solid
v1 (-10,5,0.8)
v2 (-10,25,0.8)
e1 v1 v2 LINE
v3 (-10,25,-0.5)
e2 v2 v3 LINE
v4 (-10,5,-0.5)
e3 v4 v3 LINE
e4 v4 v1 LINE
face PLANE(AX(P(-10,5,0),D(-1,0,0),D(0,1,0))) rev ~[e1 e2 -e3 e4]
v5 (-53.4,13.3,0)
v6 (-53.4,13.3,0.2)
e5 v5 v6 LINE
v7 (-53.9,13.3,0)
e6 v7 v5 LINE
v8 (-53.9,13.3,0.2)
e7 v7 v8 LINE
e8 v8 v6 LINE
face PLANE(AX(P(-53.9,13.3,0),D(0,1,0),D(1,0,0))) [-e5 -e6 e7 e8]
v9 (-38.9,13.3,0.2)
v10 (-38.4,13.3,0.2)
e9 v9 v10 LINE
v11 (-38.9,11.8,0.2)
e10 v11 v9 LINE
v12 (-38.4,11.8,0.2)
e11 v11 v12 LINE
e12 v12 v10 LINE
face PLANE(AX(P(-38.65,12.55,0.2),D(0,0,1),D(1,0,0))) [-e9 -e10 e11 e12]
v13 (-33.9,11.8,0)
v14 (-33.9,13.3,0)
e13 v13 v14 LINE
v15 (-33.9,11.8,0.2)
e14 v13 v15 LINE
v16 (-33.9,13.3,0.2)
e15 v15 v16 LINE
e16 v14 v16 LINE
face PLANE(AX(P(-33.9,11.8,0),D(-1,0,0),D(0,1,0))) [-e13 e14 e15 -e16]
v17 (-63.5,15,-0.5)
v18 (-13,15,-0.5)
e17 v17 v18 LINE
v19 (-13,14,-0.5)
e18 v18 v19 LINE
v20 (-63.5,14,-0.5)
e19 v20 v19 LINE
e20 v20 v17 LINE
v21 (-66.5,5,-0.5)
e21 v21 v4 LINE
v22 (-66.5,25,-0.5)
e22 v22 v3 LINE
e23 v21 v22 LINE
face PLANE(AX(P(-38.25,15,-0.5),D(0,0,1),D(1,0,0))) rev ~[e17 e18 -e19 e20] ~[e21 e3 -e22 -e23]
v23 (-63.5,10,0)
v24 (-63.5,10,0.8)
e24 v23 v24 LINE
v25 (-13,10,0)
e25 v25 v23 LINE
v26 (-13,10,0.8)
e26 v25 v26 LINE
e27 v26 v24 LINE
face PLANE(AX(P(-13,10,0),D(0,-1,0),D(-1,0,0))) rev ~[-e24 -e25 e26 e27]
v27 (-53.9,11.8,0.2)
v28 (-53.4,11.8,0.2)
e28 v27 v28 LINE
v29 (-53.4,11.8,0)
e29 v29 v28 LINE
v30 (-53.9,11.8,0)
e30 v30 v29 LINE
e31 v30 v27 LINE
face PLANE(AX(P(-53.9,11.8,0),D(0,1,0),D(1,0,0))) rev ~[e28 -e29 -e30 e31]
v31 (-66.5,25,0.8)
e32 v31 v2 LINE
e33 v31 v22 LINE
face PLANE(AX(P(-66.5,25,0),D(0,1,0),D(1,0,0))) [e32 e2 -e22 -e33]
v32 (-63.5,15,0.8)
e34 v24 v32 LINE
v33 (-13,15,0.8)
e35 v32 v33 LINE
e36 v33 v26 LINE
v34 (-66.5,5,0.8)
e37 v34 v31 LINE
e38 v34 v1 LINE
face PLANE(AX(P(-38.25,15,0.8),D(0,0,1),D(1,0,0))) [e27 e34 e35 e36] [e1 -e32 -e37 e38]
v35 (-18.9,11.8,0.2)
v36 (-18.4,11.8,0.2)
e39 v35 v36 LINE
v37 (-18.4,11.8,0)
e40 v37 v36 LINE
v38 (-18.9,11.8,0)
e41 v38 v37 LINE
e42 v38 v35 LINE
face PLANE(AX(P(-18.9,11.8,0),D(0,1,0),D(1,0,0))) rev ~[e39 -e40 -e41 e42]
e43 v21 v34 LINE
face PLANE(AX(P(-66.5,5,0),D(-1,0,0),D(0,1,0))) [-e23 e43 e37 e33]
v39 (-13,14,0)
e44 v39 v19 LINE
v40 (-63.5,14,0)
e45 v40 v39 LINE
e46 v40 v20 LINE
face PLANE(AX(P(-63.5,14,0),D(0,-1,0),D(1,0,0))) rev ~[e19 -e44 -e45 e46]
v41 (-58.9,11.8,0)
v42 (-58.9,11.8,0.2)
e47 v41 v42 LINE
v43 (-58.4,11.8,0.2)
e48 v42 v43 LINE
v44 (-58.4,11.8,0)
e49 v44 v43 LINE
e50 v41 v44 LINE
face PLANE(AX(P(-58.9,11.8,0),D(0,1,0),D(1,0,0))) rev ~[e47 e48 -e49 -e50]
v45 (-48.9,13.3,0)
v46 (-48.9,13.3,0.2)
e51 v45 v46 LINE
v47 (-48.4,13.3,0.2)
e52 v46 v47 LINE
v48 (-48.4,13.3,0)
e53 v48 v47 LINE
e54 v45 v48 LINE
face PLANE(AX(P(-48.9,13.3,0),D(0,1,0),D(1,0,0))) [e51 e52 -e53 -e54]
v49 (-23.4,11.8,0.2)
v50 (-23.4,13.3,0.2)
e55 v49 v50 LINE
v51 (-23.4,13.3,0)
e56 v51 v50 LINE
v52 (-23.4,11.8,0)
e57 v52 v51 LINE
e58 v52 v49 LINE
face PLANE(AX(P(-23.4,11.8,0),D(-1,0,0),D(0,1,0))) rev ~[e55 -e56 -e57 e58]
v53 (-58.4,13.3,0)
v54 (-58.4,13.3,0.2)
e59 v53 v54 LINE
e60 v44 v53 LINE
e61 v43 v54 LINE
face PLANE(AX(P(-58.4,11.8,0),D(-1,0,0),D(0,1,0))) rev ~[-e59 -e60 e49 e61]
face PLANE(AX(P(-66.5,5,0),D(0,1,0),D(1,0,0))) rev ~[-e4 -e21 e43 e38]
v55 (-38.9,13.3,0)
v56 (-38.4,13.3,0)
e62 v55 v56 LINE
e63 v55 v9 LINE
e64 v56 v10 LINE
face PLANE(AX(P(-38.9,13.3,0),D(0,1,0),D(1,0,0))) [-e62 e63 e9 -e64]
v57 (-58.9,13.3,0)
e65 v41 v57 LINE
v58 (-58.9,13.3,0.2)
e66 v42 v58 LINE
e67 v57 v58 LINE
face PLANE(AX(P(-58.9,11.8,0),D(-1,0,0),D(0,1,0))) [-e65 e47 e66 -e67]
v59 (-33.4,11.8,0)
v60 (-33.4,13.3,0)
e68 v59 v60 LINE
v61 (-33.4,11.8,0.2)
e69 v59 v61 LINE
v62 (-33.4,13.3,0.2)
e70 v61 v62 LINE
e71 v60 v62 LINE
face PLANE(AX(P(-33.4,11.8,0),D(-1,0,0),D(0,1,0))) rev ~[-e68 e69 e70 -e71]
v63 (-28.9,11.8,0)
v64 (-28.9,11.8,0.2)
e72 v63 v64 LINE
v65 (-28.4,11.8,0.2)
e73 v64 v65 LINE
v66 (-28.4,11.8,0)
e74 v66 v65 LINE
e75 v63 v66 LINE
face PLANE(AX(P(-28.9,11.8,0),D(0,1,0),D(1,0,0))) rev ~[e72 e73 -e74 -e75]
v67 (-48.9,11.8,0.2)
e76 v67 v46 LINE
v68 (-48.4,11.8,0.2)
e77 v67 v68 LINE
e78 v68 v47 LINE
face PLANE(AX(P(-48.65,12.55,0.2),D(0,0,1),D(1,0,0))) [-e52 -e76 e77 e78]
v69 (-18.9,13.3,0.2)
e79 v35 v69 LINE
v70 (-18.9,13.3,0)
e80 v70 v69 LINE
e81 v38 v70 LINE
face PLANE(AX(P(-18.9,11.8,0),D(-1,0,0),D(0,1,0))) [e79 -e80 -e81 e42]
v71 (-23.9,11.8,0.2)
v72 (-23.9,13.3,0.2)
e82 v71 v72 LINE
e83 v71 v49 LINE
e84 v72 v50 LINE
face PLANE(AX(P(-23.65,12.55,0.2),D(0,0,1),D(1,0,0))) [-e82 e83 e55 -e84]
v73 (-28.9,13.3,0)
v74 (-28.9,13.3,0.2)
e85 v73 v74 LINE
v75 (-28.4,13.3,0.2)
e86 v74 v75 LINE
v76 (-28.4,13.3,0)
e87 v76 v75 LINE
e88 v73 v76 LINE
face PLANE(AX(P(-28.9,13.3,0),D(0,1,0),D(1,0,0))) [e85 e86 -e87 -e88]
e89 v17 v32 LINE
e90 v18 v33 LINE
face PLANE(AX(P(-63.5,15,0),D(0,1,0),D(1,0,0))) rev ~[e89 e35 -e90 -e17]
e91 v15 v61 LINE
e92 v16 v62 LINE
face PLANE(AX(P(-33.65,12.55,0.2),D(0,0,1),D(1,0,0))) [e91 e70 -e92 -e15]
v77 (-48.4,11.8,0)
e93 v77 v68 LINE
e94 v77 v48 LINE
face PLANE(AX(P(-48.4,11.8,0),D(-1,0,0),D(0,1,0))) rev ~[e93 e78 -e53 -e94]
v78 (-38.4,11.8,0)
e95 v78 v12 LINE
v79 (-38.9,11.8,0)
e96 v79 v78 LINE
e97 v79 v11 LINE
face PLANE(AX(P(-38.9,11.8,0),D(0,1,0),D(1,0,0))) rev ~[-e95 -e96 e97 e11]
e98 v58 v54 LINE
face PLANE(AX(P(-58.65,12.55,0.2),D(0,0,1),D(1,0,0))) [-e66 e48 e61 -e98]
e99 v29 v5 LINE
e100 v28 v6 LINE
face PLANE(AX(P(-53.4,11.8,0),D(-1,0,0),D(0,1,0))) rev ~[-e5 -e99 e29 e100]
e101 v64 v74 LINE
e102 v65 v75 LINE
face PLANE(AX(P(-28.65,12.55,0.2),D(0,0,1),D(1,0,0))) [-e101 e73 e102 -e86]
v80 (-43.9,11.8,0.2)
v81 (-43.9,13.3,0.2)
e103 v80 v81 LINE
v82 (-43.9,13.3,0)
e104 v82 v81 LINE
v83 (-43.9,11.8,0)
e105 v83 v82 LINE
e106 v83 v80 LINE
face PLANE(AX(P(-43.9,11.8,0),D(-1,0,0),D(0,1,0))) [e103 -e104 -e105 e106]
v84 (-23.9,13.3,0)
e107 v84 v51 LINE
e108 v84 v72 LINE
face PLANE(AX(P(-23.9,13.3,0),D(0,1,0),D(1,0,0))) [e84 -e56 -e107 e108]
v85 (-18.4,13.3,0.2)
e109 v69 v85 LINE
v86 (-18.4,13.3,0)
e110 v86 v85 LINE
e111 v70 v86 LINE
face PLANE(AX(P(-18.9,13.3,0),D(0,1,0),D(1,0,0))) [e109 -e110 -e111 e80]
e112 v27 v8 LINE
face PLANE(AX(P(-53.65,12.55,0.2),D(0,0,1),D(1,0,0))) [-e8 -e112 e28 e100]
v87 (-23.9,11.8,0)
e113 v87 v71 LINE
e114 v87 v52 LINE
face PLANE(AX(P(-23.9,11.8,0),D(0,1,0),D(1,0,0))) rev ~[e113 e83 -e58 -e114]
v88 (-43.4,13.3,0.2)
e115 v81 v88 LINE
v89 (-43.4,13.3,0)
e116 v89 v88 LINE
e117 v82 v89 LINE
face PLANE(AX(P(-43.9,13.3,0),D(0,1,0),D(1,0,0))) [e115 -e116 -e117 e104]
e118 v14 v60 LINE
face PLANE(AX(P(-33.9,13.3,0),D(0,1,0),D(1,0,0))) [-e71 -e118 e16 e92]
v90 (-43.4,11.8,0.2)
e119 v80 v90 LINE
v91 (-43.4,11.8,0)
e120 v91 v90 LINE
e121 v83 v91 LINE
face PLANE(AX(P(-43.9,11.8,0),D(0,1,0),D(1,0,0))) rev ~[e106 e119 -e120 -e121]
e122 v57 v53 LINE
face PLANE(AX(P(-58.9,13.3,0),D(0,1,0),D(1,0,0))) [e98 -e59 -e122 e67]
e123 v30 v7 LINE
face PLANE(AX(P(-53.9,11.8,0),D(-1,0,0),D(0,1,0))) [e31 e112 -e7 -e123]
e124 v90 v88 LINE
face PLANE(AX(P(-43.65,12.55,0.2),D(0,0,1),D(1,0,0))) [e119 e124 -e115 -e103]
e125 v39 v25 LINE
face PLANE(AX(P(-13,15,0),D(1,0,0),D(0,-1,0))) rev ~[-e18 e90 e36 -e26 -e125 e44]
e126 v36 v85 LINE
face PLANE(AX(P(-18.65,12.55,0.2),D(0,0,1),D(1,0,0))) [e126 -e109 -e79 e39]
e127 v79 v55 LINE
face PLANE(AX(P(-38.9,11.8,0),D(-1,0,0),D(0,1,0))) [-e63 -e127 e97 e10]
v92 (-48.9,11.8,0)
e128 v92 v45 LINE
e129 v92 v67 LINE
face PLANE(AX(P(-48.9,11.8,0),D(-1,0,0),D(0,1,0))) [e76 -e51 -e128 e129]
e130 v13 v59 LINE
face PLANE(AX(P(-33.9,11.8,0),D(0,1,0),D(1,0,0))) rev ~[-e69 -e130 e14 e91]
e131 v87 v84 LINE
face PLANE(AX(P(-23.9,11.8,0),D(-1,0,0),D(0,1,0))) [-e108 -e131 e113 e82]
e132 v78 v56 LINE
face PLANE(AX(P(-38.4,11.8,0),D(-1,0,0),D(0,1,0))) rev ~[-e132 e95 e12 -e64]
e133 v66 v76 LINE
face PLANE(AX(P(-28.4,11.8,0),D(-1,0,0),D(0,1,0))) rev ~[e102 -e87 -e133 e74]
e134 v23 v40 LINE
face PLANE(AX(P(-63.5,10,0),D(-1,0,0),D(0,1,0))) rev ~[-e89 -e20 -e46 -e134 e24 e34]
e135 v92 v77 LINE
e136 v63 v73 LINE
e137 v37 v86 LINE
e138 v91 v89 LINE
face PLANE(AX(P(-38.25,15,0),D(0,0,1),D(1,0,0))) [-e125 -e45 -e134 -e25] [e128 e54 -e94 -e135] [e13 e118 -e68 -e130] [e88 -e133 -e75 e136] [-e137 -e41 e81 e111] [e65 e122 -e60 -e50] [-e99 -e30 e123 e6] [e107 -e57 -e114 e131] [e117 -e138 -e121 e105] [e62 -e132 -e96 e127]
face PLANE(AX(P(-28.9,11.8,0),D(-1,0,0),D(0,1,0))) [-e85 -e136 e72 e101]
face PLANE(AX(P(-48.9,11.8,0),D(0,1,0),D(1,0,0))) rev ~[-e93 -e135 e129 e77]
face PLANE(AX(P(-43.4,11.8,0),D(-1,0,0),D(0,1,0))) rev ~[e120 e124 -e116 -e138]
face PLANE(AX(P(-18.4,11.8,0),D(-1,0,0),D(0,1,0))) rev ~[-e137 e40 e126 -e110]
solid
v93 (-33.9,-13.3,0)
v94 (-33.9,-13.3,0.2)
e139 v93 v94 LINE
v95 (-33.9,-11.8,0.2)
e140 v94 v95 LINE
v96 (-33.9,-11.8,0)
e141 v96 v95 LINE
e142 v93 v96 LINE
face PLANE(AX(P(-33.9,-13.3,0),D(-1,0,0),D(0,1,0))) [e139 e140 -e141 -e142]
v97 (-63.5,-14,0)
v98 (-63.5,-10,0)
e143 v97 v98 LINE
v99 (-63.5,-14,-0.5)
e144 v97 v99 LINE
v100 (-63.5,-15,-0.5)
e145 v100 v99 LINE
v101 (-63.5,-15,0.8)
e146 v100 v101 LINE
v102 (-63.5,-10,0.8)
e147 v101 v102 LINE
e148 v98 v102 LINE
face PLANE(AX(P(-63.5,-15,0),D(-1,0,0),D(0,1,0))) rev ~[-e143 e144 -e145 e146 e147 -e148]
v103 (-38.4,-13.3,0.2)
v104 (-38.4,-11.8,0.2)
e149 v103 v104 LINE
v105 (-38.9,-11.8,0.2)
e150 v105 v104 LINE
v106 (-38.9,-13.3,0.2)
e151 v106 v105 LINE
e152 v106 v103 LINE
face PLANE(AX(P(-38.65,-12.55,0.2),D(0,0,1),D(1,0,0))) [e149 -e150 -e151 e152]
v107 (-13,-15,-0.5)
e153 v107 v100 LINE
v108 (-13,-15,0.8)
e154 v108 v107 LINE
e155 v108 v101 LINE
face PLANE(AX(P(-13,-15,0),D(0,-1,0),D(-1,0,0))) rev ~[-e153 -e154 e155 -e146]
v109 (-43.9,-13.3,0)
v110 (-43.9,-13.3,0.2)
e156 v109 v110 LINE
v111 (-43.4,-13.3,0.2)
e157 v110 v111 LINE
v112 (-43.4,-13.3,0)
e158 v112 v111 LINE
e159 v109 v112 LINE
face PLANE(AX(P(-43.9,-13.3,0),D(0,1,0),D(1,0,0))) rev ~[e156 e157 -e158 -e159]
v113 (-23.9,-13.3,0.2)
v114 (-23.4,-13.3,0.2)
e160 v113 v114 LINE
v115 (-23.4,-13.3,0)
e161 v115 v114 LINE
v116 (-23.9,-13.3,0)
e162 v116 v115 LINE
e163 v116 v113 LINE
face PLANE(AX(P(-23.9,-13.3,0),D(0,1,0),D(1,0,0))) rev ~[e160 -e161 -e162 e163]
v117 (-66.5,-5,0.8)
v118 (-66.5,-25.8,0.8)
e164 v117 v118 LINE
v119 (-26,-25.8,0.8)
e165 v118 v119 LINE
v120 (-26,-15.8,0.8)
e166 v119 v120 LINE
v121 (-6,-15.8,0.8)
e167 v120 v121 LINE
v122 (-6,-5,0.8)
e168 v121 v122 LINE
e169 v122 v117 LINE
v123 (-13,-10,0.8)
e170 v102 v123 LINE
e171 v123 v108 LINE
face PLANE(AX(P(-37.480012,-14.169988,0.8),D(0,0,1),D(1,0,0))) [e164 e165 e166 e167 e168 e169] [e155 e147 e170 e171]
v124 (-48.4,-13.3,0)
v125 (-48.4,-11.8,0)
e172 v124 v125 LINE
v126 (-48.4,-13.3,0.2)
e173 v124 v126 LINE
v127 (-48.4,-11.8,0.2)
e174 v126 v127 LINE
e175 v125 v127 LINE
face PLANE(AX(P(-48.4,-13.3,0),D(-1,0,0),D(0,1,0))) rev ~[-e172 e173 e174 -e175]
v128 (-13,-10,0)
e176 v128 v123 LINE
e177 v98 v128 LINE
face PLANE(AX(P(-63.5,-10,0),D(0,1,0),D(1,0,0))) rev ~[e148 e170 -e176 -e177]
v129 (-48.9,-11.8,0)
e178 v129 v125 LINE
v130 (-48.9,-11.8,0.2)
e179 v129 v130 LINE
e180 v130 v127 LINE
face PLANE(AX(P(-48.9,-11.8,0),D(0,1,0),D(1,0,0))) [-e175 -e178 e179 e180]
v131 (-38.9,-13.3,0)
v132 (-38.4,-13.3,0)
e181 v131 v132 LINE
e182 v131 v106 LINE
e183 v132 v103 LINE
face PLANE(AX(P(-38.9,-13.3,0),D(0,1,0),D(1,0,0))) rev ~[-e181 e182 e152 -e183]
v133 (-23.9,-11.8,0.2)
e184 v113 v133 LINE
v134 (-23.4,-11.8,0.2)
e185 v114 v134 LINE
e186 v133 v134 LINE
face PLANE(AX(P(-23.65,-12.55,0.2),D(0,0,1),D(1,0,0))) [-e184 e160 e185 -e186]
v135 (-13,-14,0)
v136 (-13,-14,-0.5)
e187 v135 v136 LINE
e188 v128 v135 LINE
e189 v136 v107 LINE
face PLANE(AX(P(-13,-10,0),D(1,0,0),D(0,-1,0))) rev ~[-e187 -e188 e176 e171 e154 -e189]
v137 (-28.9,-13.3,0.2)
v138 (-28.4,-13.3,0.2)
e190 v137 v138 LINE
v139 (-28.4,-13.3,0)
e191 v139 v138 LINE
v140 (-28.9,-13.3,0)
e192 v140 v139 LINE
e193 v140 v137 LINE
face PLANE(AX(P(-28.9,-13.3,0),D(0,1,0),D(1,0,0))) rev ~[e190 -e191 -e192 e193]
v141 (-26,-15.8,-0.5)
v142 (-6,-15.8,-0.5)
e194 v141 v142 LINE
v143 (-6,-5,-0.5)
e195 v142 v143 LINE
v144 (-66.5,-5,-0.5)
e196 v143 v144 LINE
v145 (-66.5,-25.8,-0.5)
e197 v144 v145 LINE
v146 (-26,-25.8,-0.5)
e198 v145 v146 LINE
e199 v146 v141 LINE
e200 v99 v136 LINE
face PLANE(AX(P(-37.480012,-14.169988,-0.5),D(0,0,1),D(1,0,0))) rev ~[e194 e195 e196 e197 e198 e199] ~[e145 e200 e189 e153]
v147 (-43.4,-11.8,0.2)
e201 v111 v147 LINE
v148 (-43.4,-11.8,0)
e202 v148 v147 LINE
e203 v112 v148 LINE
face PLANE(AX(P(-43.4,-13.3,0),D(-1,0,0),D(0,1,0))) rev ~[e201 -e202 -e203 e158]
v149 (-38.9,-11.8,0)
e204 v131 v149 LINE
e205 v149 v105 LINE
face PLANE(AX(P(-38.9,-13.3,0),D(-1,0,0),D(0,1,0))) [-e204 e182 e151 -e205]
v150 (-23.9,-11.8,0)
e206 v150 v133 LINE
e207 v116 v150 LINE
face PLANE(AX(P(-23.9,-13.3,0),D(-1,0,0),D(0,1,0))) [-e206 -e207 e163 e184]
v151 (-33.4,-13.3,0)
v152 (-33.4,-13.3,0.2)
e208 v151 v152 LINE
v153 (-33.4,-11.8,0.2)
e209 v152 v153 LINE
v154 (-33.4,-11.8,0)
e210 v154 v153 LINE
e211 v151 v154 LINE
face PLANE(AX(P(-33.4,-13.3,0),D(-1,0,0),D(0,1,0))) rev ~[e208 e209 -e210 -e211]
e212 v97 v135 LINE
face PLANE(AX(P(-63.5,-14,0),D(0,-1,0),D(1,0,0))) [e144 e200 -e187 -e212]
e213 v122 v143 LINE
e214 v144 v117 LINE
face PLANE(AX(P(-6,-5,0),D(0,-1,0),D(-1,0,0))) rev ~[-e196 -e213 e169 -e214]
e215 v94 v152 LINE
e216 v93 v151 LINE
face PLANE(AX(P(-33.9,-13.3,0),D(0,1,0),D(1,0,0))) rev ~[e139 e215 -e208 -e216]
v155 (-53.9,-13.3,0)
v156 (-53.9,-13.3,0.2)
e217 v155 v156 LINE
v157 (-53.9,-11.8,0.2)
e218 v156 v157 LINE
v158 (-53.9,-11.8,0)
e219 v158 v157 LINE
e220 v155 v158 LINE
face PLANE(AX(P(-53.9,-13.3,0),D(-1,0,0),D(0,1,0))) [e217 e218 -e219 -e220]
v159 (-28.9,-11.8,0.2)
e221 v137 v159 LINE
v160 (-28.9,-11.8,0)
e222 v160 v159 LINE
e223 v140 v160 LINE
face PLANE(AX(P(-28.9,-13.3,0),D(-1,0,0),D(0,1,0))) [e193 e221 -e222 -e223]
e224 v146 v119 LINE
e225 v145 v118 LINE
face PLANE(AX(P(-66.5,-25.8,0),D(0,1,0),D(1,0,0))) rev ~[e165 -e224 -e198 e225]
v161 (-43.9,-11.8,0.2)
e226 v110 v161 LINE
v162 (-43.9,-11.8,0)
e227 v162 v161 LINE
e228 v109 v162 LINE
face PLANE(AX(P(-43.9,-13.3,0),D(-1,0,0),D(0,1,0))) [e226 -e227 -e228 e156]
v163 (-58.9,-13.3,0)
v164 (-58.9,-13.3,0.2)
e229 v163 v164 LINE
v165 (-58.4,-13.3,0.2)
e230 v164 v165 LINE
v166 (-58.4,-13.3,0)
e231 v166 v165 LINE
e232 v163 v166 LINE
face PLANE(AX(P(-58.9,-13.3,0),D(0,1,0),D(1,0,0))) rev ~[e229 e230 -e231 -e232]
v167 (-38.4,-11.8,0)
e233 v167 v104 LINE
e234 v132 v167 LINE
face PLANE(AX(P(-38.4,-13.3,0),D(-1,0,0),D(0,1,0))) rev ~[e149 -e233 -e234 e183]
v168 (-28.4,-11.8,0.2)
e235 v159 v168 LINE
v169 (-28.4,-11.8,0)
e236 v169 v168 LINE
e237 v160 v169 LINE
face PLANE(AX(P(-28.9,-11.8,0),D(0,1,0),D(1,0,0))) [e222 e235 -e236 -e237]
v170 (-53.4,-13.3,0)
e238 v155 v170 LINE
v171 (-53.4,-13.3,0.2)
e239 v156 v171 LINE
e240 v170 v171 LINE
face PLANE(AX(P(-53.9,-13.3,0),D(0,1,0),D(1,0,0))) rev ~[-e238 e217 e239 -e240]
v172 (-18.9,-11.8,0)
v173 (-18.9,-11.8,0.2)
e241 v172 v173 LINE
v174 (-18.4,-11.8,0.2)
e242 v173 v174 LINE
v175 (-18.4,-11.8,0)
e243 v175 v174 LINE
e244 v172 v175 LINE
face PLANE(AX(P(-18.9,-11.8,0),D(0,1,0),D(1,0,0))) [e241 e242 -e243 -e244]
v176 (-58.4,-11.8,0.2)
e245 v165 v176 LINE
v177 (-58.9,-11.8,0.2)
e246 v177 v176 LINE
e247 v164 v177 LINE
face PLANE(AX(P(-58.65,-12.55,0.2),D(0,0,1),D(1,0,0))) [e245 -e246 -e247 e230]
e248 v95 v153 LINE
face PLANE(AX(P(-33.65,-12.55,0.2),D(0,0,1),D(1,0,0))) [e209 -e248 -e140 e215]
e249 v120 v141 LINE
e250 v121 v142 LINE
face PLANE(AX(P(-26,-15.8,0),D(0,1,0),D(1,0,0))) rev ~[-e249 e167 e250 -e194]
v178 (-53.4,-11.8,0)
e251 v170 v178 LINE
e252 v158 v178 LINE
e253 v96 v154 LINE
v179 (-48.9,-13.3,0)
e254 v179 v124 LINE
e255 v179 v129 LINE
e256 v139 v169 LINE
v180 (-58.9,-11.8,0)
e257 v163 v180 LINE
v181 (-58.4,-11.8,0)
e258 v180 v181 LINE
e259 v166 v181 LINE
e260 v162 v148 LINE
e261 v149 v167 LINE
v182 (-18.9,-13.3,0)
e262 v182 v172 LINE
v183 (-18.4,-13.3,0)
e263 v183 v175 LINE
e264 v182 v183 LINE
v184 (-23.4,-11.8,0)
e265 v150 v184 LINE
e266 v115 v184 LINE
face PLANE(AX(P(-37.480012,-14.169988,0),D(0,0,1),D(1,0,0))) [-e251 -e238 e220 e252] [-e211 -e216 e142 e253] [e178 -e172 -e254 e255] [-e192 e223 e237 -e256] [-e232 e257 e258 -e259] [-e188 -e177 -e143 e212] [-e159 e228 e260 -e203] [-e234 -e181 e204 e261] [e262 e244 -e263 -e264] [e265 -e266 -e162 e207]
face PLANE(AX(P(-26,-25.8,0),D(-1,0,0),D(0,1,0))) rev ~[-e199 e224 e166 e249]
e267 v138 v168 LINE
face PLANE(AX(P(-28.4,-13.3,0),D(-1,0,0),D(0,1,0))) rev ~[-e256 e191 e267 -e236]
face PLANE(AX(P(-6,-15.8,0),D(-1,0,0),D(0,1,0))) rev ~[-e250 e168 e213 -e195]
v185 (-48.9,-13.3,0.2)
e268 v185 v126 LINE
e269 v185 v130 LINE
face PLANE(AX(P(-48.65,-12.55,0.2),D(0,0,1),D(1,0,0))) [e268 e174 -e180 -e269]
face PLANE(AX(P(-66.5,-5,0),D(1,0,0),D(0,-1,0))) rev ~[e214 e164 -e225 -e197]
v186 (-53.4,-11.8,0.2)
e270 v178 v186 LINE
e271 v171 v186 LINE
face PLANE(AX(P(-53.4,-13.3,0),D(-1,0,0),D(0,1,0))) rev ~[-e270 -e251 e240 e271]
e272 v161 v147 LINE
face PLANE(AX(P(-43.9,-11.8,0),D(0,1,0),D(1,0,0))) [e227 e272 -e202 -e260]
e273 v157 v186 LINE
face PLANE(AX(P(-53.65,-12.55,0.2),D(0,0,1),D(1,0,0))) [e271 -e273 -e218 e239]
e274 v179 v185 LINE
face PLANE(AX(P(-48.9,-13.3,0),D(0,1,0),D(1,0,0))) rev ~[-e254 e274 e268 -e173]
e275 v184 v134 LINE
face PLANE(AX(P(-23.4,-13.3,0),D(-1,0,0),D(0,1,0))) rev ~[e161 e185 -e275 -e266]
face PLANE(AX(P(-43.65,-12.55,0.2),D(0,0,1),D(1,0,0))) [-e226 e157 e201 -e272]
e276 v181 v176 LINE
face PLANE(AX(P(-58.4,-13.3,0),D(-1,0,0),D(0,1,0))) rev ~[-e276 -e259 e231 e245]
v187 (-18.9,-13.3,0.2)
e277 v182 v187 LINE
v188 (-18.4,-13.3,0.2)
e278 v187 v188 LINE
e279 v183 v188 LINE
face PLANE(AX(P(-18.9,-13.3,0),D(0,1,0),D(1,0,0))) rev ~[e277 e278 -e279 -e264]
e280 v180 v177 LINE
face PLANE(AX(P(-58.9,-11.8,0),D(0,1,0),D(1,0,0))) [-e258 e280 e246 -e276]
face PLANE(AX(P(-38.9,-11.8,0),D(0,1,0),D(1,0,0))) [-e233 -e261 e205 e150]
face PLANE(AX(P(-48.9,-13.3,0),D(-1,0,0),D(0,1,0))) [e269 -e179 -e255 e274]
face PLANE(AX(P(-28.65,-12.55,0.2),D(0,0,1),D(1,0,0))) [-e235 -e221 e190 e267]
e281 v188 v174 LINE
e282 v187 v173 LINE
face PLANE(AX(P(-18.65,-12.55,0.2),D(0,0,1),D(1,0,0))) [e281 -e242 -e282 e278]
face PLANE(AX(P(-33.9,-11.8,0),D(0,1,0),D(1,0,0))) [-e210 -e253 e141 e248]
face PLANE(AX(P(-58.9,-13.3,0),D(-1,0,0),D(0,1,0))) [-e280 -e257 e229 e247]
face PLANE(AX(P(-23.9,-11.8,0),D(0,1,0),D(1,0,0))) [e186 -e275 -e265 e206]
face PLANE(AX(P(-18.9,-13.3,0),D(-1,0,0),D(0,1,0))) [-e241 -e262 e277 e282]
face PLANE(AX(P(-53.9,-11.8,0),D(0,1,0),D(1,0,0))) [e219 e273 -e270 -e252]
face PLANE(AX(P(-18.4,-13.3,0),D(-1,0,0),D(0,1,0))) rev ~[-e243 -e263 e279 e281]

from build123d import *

# Parameters (mm, degrees)
F0_W     = 56.5
F0_H     = 20
F0_W_2   = 50.5
F0_H_2   = 4
F1_DEPTH = 0.5
F2_DEPTH = 0.8
F3_W     = 0.5
F3_H     = 1.5
F4_DEPTH = 0.2
F5_DEPTH = 0.8
F6_W     = 0.5
F6_H     = 1.5
F7_DEPTH = 0.2


with BuildPart() as f1:
    # F0 (on Top) → F1 (new body)
    with BuildSketch(Plane.XY):
        with Locations((-38.25, 15)):
            Rectangle(F0_W, F0_H)
        Polygon((-63.5, 10), (-63.5, 14), (-63.5, 15), (-13, 15), (-13, 14), (-13, 10), align=None, mode=Mode.SUBTRACT)
        with Locations((-38.25, 12)):
            Rectangle(F0_W_2, F0_H_2)
        Polygon((-6, -5), (-66.5, -5), (-66.5, -25.8), (-26, -25.8), (-26, -20.8), (-26, -15.8), (-13, -15.8), (-6, -15.8), align=None)
        Polygon((-63.5, -15), (-63.5, -14), (-63.5, -10), (-13, -10), (-13, -14), (-13, -15), align=None, mode=Mode.SUBTRACT)
        with Locations((-38.25, -12)):
            Rectangle(F0_W_2, F0_H_2)
    extrude(amount=-F1_DEPTH)

    # F0 (on Top) → F2 (join)
    with BuildSketch(Plane.XY):
        with Locations((-38.25, 15)):
            Rectangle(F0_W, F0_H)
        Polygon((-63.5, 10), (-63.5, 14), (-63.5, 15), (-13, 15), (-13, 14), (-13, 10), align=None, mode=Mode.SUBTRACT)
    extrude(amount=F2_DEPTH)

    # F3 (on face) → F4 (join)
    with BuildSketch(Plane.XY):
        with Locations((-58.65, 12.55)):
            Rectangle(F3_W, F3_H)
        with Locations((-53.65, 12.55)):
            Rectangle(F3_W, F3_H)
        with Locations((-48.65, 12.55)):
            Rectangle(F3_W, F3_H)
        with Locations((-43.65, 12.55)):
            Rectangle(F3_W, F3_H)
        with Locations((-38.65, 12.55)):
            Rectangle(F3_W, F3_H)
        with Locations((-33.65, 12.55)):
            Rectangle(F3_W, F3_H)
        with Locations((-28.65, 12.55)):
            Rectangle(F3_W, F3_H)
        with Locations((-23.65, 12.55)):
            Rectangle(F3_W, F3_H)
        with Locations((-18.65, 12.55)):
            Rectangle(F3_W, F3_H)
    extrude(amount=F4_DEPTH)

    # F0 (on Top) → F5 (join)
    with BuildSketch(Plane.XY):
        Polygon((-6, -5), (-66.5, -5), (-66.5, -25.8), (-26, -25.8), (-26, -20.8), (-26, -15.8), (-13, -15.8), (-6, -15.8), align=None)
        Polygon((-63.5, -15), (-63.5, -14), (-63.5, -10), (-13, -10), (-13, -14), (-13, -15), align=None, mode=Mode.SUBTRACT)
    extrude(amount=F5_DEPTH)

    # F6 (on face) → F7 (join)
    with BuildSketch(Plane.XY):
        with Locations((-58.65, -12.55)):
            Rectangle(F6_W, F6_H)
        with Locations((-53.65, -12.55)):
            Rectangle(F6_W, F6_H)
        with Locations((-48.65, -12.55)):
            Rectangle(F6_W, F6_H)
        with Locations((-43.65, -12.55)):
            Rectangle(F6_W, F6_H)
        with Locations((-38.65, -12.55)):
            Rectangle(F6_W, F6_H)
        with Locations((-33.65, -12.55)):
            Rectangle(F6_W, F6_H)
        with Locations((-28.65, -12.55)):
            Rectangle(F6_W, F6_H)
        with Locations((-23.65, -12.55)):
            Rectangle(F6_W, F6_H)
        with Locations((-18.65, -12.55)):
            Rectangle(F6_W, F6_H)
    extrude(amount=F7_DEPTH)


solid = f1.part
